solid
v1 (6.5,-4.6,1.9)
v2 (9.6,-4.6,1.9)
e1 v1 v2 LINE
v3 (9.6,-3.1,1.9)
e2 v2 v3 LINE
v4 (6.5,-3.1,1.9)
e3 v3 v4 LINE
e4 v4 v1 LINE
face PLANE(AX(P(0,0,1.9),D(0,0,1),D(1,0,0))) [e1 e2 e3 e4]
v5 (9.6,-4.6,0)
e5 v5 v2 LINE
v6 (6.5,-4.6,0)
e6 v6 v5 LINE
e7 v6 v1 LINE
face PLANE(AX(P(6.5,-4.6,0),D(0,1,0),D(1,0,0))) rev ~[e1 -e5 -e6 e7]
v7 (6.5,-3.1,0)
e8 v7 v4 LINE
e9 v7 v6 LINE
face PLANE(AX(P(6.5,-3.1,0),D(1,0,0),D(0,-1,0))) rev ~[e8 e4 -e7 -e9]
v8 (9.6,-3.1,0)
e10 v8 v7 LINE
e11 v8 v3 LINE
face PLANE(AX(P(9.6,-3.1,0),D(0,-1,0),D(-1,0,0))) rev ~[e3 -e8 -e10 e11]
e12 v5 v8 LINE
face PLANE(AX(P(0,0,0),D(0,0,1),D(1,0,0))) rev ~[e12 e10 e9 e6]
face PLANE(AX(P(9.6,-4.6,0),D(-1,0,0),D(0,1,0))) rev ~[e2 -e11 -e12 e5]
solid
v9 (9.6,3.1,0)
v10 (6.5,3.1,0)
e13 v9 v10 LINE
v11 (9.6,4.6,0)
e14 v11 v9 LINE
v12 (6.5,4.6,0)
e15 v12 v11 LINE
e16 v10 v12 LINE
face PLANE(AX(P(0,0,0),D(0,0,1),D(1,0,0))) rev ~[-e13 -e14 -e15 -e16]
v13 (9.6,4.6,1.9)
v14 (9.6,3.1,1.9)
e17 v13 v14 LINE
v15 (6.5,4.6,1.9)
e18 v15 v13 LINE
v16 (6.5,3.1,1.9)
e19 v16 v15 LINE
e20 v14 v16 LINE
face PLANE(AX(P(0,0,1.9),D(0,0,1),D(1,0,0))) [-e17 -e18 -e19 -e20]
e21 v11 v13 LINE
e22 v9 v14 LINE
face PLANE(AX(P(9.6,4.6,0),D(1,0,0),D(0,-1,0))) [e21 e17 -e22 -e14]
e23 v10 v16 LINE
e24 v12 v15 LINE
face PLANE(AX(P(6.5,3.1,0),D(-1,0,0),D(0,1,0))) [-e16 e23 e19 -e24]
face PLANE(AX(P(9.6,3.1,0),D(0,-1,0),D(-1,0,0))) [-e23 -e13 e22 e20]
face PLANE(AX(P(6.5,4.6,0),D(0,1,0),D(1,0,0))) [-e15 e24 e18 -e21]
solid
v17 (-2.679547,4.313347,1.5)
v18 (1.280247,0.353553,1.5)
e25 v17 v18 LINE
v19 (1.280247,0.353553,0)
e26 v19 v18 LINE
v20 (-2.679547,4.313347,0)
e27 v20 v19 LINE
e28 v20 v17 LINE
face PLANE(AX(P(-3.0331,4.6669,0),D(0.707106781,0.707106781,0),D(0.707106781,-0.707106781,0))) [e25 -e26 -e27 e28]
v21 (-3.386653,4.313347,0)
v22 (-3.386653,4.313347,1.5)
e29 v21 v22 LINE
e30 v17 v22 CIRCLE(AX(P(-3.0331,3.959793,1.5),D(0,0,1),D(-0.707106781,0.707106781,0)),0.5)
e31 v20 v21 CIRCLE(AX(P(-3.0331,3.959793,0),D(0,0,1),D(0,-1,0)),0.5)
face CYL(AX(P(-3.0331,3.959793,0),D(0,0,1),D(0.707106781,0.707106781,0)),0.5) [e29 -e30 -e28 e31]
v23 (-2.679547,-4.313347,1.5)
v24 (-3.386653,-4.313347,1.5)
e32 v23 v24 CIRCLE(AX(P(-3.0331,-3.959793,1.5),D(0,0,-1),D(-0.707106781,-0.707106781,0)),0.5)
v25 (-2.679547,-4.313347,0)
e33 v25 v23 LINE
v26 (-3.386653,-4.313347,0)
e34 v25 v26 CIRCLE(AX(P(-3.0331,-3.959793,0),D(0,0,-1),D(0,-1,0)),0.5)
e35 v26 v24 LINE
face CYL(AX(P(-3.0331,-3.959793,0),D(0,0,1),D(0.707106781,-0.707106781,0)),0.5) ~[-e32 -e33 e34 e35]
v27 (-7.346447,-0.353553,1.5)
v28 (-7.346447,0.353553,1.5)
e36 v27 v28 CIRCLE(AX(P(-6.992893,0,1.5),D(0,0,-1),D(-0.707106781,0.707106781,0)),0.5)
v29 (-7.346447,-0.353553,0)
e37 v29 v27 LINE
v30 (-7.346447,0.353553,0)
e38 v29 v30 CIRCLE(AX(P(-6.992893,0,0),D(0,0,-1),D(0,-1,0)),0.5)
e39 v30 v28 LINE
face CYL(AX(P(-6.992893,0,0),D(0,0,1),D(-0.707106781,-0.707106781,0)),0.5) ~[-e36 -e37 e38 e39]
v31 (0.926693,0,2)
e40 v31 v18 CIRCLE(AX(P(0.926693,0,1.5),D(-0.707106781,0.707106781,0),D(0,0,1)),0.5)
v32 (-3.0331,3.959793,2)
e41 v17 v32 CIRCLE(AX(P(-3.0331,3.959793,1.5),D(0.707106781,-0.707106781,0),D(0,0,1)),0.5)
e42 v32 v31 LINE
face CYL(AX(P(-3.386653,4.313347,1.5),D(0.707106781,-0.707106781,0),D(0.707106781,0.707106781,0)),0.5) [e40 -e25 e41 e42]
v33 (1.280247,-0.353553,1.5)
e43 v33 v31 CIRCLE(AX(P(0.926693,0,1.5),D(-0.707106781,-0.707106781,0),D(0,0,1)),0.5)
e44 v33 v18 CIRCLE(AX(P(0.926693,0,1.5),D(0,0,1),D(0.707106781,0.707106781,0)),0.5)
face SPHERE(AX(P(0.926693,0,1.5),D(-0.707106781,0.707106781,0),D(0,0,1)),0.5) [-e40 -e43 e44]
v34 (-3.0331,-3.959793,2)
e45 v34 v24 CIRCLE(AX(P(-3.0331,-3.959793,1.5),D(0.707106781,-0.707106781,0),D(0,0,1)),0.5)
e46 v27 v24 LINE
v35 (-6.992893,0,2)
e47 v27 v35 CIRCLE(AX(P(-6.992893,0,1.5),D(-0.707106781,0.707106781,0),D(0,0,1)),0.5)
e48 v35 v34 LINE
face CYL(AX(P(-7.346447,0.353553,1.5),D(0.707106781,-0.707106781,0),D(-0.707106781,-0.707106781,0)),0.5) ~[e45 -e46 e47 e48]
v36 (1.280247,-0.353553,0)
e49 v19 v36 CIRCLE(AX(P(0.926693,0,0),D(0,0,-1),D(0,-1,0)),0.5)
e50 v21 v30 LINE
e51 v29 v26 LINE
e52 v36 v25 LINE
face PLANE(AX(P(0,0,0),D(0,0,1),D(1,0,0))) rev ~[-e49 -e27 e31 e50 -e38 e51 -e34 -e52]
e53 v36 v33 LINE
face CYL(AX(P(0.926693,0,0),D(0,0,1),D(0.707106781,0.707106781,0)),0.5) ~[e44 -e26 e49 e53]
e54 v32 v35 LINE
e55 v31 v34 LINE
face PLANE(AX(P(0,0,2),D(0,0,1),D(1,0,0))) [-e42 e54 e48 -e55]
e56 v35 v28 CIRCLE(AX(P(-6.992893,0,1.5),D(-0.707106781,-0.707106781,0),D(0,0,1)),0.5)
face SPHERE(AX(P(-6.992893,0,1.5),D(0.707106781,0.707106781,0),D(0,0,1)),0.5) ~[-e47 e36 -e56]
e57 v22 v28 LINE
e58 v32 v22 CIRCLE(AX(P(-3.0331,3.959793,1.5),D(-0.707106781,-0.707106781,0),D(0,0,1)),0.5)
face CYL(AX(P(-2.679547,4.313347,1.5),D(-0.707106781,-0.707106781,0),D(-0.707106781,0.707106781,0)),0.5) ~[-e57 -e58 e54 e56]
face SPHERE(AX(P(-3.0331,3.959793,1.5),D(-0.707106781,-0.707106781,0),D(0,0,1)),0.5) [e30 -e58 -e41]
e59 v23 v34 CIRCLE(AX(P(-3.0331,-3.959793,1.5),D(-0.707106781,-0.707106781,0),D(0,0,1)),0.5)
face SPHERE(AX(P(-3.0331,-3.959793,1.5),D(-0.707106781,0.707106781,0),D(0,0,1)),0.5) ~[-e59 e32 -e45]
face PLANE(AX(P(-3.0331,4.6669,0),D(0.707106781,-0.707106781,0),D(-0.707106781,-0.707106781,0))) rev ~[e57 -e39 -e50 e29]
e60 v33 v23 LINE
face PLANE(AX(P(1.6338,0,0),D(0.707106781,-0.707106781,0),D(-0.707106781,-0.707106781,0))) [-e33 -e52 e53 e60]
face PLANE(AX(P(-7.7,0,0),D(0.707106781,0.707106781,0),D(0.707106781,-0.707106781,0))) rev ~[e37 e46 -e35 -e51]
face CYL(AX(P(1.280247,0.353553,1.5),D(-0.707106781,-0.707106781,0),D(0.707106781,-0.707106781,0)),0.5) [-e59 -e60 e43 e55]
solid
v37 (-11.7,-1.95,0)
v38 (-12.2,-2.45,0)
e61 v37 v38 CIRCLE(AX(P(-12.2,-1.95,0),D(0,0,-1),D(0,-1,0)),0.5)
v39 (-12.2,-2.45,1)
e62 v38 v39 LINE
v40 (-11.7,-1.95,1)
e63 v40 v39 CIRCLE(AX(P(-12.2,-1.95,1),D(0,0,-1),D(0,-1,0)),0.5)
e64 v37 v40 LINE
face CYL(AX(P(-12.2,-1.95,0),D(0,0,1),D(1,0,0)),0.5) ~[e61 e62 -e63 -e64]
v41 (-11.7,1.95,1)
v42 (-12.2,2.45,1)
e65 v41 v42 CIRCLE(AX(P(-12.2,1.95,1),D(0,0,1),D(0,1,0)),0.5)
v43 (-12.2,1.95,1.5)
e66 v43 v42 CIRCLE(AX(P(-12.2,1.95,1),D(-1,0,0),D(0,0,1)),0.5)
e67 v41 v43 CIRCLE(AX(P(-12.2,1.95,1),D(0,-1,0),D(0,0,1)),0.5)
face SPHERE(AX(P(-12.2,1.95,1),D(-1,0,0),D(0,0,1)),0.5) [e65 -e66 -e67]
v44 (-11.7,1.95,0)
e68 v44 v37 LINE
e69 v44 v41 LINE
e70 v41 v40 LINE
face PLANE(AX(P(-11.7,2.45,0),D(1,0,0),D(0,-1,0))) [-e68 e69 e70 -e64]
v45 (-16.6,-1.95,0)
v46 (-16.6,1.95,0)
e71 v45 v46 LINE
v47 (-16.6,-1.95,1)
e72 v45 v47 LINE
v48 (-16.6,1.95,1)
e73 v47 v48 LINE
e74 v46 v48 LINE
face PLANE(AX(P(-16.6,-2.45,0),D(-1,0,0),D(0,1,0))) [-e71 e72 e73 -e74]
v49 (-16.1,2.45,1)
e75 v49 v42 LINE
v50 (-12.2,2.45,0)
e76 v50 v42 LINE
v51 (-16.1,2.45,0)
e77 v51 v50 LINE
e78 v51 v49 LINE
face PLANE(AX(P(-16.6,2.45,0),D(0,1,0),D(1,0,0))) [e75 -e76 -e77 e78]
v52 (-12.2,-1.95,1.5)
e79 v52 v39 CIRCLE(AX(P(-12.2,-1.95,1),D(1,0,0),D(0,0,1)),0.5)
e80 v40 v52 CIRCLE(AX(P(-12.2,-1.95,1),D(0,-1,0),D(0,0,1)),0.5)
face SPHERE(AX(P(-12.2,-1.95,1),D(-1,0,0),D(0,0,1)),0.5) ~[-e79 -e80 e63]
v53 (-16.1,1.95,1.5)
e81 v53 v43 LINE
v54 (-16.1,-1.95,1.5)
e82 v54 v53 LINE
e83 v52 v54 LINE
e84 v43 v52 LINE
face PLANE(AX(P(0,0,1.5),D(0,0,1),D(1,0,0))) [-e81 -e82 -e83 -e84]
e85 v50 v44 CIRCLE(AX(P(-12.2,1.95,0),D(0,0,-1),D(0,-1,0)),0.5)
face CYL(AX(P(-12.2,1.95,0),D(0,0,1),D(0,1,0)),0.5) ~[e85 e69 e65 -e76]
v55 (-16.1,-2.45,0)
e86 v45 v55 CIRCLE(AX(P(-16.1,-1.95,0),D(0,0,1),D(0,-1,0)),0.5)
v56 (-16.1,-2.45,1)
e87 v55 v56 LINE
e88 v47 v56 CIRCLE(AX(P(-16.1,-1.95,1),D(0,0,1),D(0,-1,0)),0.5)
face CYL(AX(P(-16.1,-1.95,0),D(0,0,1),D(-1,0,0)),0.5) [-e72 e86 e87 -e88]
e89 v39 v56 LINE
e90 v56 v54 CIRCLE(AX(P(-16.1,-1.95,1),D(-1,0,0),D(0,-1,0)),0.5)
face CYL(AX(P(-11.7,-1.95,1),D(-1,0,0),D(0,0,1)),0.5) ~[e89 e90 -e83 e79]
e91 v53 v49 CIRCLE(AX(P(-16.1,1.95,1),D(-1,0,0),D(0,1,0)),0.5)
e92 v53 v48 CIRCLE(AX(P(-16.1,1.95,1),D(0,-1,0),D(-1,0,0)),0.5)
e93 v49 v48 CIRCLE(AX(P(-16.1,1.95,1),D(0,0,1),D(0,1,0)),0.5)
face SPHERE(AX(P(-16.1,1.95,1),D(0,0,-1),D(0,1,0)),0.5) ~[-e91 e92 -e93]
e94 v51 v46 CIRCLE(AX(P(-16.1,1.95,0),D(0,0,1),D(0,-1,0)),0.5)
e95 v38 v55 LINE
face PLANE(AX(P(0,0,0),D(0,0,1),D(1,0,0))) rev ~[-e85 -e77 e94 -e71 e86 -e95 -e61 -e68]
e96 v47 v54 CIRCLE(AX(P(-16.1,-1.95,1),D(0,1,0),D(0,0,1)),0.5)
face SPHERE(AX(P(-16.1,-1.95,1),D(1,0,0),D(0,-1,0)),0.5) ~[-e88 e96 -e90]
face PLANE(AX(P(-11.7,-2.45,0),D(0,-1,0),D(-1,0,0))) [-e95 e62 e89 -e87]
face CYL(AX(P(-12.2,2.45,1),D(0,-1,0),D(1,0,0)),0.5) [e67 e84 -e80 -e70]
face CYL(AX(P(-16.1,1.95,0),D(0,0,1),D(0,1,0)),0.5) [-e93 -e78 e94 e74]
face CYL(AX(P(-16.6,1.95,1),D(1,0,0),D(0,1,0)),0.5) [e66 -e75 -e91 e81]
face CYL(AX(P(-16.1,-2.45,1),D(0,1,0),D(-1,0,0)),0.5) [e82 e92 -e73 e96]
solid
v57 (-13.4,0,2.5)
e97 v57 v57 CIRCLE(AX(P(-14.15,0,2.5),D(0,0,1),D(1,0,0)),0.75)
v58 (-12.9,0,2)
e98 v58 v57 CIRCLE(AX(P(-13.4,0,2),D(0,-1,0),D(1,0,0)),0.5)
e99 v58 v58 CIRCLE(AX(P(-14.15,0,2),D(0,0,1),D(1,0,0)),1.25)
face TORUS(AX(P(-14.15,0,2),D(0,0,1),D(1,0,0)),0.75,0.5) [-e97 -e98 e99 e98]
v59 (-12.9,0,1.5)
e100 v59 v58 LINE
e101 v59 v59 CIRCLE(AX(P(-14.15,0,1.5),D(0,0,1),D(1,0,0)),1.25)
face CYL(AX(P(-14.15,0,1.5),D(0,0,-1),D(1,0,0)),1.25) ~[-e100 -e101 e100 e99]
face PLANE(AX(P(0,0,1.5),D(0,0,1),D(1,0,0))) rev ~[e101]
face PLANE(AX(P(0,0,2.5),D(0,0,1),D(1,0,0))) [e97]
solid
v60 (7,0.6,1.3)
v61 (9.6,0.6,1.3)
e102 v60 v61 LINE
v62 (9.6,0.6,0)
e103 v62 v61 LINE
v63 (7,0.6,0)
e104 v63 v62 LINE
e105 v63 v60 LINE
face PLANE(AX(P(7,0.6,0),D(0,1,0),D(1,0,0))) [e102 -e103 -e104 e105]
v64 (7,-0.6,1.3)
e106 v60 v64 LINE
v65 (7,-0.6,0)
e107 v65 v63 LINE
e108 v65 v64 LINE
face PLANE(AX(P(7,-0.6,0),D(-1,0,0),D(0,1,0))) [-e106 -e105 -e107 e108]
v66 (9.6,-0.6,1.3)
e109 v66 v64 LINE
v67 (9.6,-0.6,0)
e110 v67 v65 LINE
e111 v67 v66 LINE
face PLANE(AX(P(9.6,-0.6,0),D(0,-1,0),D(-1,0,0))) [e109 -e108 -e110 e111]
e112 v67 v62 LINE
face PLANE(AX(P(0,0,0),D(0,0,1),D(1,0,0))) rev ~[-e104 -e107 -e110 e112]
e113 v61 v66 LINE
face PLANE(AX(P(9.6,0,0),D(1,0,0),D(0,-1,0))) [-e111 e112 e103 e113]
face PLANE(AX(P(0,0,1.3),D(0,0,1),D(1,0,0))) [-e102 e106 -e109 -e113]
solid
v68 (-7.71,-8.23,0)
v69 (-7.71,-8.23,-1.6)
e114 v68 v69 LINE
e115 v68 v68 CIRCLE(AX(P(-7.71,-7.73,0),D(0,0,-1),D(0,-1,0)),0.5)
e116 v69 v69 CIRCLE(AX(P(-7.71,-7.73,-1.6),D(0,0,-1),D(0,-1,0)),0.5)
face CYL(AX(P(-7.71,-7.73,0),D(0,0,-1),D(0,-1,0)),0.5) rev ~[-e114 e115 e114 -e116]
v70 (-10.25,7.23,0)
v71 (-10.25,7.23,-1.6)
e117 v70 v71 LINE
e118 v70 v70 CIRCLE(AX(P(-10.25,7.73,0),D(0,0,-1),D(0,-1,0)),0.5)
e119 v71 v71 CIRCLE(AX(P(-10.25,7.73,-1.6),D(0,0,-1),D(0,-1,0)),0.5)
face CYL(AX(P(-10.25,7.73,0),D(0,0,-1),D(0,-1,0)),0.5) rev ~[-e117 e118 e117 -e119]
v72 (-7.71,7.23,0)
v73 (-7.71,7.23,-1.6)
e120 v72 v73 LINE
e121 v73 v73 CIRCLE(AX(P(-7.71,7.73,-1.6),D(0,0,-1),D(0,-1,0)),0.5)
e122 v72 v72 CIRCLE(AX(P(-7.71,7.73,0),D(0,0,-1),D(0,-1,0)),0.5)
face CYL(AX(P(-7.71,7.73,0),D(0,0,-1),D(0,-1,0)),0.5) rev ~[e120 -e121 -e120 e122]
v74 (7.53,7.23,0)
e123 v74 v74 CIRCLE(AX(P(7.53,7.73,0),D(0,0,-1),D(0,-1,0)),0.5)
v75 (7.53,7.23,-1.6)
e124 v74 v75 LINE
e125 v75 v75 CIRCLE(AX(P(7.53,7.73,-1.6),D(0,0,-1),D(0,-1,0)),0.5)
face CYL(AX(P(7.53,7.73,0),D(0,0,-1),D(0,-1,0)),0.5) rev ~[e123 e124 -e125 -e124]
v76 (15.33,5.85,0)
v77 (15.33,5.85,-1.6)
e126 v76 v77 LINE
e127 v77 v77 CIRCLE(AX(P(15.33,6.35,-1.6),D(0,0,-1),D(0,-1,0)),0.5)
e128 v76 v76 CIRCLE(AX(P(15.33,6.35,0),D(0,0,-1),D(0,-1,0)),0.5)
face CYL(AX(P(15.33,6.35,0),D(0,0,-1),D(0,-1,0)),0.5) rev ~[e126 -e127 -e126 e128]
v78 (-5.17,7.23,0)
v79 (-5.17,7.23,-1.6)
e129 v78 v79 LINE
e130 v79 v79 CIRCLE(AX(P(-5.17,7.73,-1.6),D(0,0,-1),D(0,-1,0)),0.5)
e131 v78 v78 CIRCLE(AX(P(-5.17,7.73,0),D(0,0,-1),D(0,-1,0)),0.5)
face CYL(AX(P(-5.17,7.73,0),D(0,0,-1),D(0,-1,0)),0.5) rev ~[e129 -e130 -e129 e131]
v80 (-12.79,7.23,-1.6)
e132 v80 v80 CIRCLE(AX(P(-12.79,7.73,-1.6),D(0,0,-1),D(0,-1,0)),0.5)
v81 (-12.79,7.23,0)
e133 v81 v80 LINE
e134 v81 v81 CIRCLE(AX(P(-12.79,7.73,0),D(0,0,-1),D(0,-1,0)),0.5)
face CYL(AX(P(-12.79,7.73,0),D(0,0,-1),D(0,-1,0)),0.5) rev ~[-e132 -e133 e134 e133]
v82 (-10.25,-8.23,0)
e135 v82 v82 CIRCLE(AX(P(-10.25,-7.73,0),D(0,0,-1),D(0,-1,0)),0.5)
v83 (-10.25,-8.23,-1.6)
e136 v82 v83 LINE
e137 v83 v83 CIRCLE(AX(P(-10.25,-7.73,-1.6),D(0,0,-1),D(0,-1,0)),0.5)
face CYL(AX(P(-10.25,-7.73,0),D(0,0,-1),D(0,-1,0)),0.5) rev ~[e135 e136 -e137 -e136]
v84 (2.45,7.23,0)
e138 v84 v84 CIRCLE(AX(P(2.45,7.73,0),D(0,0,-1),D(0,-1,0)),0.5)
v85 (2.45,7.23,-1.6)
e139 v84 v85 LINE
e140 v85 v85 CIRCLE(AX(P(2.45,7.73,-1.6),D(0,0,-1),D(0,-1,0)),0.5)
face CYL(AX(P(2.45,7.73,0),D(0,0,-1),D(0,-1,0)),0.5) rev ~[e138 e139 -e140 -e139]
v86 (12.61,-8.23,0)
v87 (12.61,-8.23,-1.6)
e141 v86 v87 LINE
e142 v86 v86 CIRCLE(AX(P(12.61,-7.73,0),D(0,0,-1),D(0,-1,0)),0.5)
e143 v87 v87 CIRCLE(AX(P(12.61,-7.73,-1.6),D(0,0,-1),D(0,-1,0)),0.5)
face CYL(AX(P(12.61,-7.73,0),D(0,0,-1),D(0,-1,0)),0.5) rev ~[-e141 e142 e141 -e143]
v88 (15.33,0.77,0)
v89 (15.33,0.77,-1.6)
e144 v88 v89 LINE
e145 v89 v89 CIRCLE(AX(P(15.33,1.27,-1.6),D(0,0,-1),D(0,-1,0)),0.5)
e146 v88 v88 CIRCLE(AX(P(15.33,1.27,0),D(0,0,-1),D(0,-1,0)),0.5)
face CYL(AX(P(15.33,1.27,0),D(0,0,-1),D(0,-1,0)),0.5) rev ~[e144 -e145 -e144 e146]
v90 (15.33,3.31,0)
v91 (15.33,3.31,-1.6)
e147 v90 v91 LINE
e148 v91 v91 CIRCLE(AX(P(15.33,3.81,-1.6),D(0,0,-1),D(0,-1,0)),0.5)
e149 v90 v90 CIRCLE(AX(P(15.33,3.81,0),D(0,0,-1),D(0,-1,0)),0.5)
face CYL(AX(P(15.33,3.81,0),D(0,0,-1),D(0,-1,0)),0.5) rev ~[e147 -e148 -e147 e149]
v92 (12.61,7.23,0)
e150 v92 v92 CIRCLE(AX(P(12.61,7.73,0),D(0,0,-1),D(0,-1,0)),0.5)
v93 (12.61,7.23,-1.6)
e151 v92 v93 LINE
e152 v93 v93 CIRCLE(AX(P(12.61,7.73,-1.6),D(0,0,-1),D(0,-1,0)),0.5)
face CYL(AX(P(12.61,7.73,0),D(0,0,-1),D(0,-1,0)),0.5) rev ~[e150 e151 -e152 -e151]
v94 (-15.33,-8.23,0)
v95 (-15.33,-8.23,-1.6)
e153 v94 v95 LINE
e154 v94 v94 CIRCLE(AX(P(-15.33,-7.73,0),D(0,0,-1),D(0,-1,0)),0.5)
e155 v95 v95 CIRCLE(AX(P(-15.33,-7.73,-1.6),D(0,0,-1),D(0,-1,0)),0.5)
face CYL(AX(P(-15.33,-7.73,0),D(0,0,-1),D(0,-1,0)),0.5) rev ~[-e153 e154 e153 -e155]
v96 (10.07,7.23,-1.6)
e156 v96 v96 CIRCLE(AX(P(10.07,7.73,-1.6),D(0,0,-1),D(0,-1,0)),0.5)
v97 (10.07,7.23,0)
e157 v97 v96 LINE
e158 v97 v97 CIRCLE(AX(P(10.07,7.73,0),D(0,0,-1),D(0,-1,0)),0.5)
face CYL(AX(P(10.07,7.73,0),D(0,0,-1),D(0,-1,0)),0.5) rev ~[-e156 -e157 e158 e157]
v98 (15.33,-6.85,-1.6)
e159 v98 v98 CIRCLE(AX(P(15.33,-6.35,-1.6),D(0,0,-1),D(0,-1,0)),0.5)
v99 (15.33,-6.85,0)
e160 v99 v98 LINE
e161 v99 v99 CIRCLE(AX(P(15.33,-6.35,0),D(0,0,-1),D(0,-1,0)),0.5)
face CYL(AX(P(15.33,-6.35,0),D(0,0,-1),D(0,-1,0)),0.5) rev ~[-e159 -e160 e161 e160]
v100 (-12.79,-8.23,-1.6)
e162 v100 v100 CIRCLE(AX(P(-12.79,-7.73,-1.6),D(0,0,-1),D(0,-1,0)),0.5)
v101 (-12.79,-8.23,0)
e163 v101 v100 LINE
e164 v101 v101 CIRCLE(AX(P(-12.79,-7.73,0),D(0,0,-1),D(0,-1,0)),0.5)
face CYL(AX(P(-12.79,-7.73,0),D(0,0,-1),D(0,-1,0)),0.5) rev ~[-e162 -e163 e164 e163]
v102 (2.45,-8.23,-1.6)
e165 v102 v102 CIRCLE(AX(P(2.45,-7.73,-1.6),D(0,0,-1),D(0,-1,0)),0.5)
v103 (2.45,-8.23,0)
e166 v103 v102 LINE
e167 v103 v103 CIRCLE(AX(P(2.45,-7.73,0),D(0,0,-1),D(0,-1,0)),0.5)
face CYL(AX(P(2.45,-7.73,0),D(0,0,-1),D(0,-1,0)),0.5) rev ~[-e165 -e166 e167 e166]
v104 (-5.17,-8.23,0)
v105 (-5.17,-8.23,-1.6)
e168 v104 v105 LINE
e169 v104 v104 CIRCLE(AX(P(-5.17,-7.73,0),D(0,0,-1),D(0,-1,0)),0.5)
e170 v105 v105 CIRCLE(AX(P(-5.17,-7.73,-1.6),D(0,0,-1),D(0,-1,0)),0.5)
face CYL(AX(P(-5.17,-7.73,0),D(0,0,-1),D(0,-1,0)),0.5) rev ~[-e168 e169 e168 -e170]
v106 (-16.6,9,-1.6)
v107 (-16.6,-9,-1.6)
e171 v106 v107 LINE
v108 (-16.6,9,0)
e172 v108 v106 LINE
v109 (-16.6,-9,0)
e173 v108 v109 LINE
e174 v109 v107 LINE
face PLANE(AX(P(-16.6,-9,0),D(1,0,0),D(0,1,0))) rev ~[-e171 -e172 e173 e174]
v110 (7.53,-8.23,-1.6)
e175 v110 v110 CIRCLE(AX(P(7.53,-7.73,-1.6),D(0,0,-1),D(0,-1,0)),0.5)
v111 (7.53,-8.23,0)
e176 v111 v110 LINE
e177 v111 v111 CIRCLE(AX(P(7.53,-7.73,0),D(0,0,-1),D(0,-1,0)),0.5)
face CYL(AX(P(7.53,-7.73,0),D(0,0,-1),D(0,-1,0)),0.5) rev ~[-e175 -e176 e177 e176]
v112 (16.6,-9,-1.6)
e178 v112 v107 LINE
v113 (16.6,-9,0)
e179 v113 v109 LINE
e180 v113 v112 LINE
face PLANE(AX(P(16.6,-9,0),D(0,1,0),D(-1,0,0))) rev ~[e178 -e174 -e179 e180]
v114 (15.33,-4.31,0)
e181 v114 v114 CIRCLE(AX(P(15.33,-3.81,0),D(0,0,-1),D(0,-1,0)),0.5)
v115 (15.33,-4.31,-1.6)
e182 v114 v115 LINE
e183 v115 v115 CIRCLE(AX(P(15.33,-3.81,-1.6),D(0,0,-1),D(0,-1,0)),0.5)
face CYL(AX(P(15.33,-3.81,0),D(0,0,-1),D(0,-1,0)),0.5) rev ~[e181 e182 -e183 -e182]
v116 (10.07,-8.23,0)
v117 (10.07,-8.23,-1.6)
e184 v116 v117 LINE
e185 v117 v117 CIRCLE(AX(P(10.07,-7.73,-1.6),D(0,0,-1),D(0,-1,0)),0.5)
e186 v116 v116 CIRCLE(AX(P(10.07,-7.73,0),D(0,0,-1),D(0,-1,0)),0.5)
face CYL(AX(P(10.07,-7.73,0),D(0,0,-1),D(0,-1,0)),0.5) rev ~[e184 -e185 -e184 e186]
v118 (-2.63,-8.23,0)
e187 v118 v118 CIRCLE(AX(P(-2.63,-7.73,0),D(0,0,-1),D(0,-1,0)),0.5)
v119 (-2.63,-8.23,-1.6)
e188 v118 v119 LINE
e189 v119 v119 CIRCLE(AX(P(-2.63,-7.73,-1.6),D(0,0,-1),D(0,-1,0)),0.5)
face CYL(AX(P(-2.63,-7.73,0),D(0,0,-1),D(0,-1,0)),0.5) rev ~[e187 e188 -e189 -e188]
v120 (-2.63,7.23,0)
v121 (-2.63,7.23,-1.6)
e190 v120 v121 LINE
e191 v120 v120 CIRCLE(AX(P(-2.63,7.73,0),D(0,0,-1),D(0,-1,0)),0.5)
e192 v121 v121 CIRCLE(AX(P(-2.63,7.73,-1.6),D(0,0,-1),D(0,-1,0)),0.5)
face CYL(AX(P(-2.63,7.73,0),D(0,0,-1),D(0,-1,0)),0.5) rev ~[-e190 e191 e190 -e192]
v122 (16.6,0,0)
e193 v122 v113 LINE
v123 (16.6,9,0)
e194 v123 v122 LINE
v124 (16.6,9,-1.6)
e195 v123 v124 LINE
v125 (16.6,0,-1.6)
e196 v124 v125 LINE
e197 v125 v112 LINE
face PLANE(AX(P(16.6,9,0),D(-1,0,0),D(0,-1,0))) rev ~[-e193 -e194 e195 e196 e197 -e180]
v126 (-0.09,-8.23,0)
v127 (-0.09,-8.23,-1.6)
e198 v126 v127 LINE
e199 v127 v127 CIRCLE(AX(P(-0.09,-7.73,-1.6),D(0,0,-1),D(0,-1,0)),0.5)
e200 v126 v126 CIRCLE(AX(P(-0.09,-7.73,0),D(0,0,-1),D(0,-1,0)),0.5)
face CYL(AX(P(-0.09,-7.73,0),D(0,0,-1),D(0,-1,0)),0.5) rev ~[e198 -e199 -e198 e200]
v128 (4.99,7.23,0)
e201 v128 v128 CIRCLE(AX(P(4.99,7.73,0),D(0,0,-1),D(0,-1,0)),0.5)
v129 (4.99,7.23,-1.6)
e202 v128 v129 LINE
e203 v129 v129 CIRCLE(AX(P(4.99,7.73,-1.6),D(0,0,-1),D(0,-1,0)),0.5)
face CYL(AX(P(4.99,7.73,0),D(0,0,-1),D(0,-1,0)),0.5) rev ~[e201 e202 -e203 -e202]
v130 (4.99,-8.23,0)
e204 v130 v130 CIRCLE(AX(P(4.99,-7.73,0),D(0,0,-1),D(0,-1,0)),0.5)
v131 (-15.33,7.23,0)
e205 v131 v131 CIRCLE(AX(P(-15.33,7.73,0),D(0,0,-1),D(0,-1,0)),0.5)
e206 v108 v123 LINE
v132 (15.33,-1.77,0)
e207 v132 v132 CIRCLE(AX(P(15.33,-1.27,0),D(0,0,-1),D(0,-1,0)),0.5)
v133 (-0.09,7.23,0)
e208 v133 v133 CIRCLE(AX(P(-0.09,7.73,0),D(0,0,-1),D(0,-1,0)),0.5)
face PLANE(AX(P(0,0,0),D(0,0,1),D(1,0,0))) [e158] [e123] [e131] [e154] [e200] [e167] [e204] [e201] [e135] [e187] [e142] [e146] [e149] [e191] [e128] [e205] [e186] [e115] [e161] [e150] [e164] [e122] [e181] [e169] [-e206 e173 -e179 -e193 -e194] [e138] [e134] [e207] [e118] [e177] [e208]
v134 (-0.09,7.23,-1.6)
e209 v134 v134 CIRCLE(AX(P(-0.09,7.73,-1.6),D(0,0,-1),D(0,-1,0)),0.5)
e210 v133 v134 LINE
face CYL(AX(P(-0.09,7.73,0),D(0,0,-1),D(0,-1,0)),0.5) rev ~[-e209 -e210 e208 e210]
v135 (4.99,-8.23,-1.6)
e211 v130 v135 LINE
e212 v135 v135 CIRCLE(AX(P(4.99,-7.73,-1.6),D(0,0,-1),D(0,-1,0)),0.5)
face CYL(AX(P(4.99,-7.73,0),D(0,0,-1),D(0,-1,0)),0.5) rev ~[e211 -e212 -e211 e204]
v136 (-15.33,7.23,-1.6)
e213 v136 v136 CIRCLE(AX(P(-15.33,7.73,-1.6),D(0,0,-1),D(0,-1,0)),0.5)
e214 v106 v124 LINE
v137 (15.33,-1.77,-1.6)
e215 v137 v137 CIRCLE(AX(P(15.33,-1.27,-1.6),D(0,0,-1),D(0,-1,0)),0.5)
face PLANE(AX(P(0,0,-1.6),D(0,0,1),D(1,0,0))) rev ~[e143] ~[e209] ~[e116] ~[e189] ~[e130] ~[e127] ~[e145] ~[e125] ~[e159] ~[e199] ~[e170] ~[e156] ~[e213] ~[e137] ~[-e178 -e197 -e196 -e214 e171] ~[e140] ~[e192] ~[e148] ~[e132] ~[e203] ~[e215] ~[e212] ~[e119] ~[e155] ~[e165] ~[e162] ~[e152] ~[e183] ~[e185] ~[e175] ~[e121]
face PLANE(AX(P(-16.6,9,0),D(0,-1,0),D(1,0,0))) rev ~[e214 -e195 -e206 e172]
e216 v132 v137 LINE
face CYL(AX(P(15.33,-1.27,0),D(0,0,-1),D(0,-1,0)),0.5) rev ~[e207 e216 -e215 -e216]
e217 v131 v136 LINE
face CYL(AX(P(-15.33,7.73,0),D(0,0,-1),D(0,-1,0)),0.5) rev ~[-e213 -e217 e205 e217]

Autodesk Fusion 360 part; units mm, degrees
sketch "Layout" plane through (0, 0, 0) normal (0, 0, 1) x (1, 0, 0)
  line L0 (-16.6, 9) -> (16.6, 9)
  line L1 (16.6, 9) -> (16.6, -9)
  line L2 (16.6, -9) -> (-16.6, -9)
  line L3 (-16.6, -9) -> (-16.6, 9)
  line L4 (-16.6, 9) -> (16.6, -9) construction
  line L5 (16.6, 9) -> (-16.6, -9) construction
  line L6 (-16.6, 2.45) -> (-11.7, 2.45)
  line L7 (-11.7, 2.45) -> (-11.7, -2.45)
  line L8 (-11.7, -2.45) -> (-16.6, -2.45)
  line L9 (-16.6, -2.45) -> (-16.6, 2.45)
  line L10 (-3.0331, 4.6669) -> (-7.7, 0)
  line L11 (-7.7, 0) -> (-3.0331, -4.6669)
  line L12 (1.75, 0) -> (22.5, 0)
  circle A0 centre (-14.15, 0) radius 1.25
  line L13 (-16.6, 0) -> (-11.7, 0) construction
  line L14 (-3.0331, 4.6669) -> (1.6338, 0)
  line L15 (1.6338, 0) -> (-3.0331, -4.6669)
  line L16 (7, 0.6) -> (9.6, 0.6)
  line L17 (9.6, 0.6) -> (9.6, -0.6)
  line L18 (9.6, -0.6) -> (7, -0.6)
  line L19 (7, -0.6) -> (7, 0.6)
  line L20 (6.5, 4.6) -> (9.6, 4.6)
  line L21 (9.6, 4.6) -> (9.6, 3.1)
  line L22 (9.6, 3.1) -> (6.5, 3.1)
  line L23 (6.5, 3.1) -> (6.5, 4.6)
  line L24 (6.5, -4.6) -> (9.6, -4.6)
  line L25 (6.5, -3.1) -> (6.5, -4.6)
  line L26 (9.6, -3.1) -> (6.5, -3.1)
  line L27 (9.6, -4.6) -> (9.6, -3.1)
  point P0 (-16.6, 0)
  point P1 (-14.15, 0)
  point P2 (-15.33, -7.73)
  point P3 (-12.79, -7.73)
  point P4 (-10.25, -7.73)
  point P5 (-7.71, -7.73)
  point P6 (-5.17, -7.73)
  point P7 (-2.63, -7.73)
  point P8 (-0.09, -7.73)
  point P9 (2.45, -7.73)
  point P10 (4.99, -7.73)
  point P11 (7.53, -7.73)
  point P12 (10.07, -7.73)
  point P13 (12.61, -7.73)
  point P14 (-15.33, 7.73)
  point P15 (-12.79, 7.73)
  point P16 (-10.25, 7.73)
  point P17 (-7.71, 7.73)
  point P18 (-5.17, 7.73)
  point P19 (-2.63, 7.73)
  point P20 (-0.09, 7.73)
  point P21 (2.45, 7.73)
  point P22 (4.99, 7.73)
  point P23 (7.53, 7.73)
  point P24 (10.07, 7.73)
  point P25 (12.61, 7.73)
  point P26 (15.33, -6.35)
  point P27 (15.33, -3.81)
  point P28 (15.33, -1.27)
  point P29 (15.33, 1.27)
  point P30 (15.33, 3.81)
  point P31 (15.33, 6.35)
  point P32 (7, 0)
  dimension "d1" = 33.2
  dimension "d2" = 18
  dimension "d3" = 4.9
  dimension "d4" = 4.9
  dimension "d5" = 2.5
  dimension "d6" = 1.27
  dimension "d7" = 1.27
  dimension "d10" = 2.54
  dimension "d11" = 0
  dimension "d12" = 1.27
  dimension "d13" = 2.65
  dimension "d16" = 0
  dimension "d17" = 2.54
  dimension "d18" = 2.76
  dimension "d19" = 6.6
  dimension "d21" = 4
  dimension "d22" = 6.6
  dimension "d41" = 3.1
  dimension "d42" = 1.5
  dimension "d43" = 2.6
  dimension "d44" = 1.2
  dimension "d45" = 5.9
  dimension "d46" = 10.1
extrude "Extrude5" add sketch "Layout" along normal blind 1.9 contours L20 L21 L22 L23 | L24 L25 L26 L27 makes body 1 at (7.5333, 4.6, 0.6333) makes body 2 at (8.5667, -3.1, 0.6333)
extrude "Extrude1" add sketch "Layout" against normal blind 1.6 separate body contours L12 L17 L18 L19 | L12 L16 L17 L19 | L0 L1 L2 L3 L6 L7 L8 | L3 L6 L7 L8 L9 | L10 L11 L14 L15 | A0 | L20 L21 L22 L23 | L24 L25 L26 L27 makes body 3
hole "Hole1" at (-15.33, -7.73, 0) at (-12.79, -7.73, 0) at (-10.25, -7.73, 0) at (-7.71, -7.73, 0) at (-5.17, -7.73, 0) at (-2.63, -7.73, 0) at (-0.09, -7.73, 0) at (2.45, -7.73, 0) at (4.99, -7.73, 0) at (7.53, -7.73, 0) at (10.07, -7.73, 0) at (12.61, -7.73, 0) at (15.33, -6.35, 0) at (15.33, -3.81, 0) at (15.33, -1.27, 0) at (15.33, 1.27, 0) at (15.33, 3.81, 0) at (15.33, 6.35, 0) at (12.61, 7.73, 0) at (10.07, 7.73, 0) at (7.53, 7.73, 0) at (4.99, 7.73, 0) at (2.45, 7.73, 0) at (-0.09, 7.73, 0) at (-2.63, 7.73, 0) at (-5.17, 7.73, 0) at (-7.71, 7.73, 0) at (-10.25, 7.73, 0) at (-12.79, 7.73, 0) at (-15.33, 7.73, 0) direction (0, 0, -1) diameter 1 depth 1.6 tip angle 180 bodies 3
extrude "Extrude2" add sketch "Layout" along normal blind 2 separate body contours L10 L11 L14 L15 makes body 4
extrude "Extrude3" add sketch "Layout" along normal blind 1.5 separate body contours L3 L6 L7 L8 L9 | A0 makes body 5
extrude "Extrude4" add sketch "Layout" along normal blind 1 from surface at 1.5 separate body contours A0 makes body 6
fillet "Fillet1" radius 0.5 1 edges at (-15.3154, -0.452, 2.5) on bodies 6
fillet "Fillet2" radius 0.5 4 edges at (-5.3665, 2.3335, 2) (-0.6996, 2.3335, 2) (-5.3665, -2.3335, 2) (-0.6996, -2.3335, 2) on bodies 4 5
fillet "Fillet2" radius 0.5 12 edges at (1.6338, 0, 1) (-3.0331, -4.6669, 1) (-7.7, 0, 1) (-3.0331, 4.6669, 1) (-14.15, -2.45, 1.5) (-16.6, -2.45, 0.75) (-16.6, 2.45, 0.75) (-14.15, 2.45, 1.5) (-16.6, 0, 1.5) (-11.7, 0, 1.5) (-11.7, -2.45, 0.75) (-11.7, 2.45, 0.75) on bodies 4 5
extrude "Extrude6" add sketch "Layout" along normal blind 1.3 separate body contours L12 L17 L18 L19 | L12 L16 L17 L19 makes body 7
copy_body "Body->Comp1" bodies 1 removing the originals makes body 8 in component "Cap1"
copy_body "Body->Comp2" bodies 5 removing the originals makes body 9 in component "Reset Body"
copy_body "Body->Comp3" bodies 4 removing the originals makes body 10 in component "CPU"
copy_body "Body->Comp4" bodies 6 removing the originals makes body 11 in component "Reset Switch"
copy_body "Body->Comp5" bodies 7 removing the originals makes body 12 in component "Tx"
copy_body "Body->Comp6" bodies 2 removing the originals makes body 13 in component "Cap2"
copy_body "Body->Comp7" bodies 3 removing the originals makes body 14 in component "PCB"
component "Cap1" placed x (1, 0, 0) y (0, 1, 0) z (0, 0, 1) at (0, 0, 0)
component "Reset Body" placed x (1, 0, 0) y (0, 1, 0) z (0, 0, 1) at (0, 0, 0)
component "CPU" placed x (1, 0, 0) y (0, 1, 0) z (0, 0, 1) at (0, 0, 0)
component "Reset Switch" placed x (1, 0, 0) y (0, 1, 0) z (0, 0, 1) at (0, 0, 0)
component "Tx" placed x (1, 0, 0) y (0, 1, 0) z (0, 0, 1) at (0, 0, 0)
component "Cap2" placed x (1, 0, 0) y (0, 1, 0) z (0, 0, 1) at (0, 0, 0)
component "PCB" placed x (1, 0, 0) y (0, 1, 0) z (0, 0, 1) at (0, 0, 0)
